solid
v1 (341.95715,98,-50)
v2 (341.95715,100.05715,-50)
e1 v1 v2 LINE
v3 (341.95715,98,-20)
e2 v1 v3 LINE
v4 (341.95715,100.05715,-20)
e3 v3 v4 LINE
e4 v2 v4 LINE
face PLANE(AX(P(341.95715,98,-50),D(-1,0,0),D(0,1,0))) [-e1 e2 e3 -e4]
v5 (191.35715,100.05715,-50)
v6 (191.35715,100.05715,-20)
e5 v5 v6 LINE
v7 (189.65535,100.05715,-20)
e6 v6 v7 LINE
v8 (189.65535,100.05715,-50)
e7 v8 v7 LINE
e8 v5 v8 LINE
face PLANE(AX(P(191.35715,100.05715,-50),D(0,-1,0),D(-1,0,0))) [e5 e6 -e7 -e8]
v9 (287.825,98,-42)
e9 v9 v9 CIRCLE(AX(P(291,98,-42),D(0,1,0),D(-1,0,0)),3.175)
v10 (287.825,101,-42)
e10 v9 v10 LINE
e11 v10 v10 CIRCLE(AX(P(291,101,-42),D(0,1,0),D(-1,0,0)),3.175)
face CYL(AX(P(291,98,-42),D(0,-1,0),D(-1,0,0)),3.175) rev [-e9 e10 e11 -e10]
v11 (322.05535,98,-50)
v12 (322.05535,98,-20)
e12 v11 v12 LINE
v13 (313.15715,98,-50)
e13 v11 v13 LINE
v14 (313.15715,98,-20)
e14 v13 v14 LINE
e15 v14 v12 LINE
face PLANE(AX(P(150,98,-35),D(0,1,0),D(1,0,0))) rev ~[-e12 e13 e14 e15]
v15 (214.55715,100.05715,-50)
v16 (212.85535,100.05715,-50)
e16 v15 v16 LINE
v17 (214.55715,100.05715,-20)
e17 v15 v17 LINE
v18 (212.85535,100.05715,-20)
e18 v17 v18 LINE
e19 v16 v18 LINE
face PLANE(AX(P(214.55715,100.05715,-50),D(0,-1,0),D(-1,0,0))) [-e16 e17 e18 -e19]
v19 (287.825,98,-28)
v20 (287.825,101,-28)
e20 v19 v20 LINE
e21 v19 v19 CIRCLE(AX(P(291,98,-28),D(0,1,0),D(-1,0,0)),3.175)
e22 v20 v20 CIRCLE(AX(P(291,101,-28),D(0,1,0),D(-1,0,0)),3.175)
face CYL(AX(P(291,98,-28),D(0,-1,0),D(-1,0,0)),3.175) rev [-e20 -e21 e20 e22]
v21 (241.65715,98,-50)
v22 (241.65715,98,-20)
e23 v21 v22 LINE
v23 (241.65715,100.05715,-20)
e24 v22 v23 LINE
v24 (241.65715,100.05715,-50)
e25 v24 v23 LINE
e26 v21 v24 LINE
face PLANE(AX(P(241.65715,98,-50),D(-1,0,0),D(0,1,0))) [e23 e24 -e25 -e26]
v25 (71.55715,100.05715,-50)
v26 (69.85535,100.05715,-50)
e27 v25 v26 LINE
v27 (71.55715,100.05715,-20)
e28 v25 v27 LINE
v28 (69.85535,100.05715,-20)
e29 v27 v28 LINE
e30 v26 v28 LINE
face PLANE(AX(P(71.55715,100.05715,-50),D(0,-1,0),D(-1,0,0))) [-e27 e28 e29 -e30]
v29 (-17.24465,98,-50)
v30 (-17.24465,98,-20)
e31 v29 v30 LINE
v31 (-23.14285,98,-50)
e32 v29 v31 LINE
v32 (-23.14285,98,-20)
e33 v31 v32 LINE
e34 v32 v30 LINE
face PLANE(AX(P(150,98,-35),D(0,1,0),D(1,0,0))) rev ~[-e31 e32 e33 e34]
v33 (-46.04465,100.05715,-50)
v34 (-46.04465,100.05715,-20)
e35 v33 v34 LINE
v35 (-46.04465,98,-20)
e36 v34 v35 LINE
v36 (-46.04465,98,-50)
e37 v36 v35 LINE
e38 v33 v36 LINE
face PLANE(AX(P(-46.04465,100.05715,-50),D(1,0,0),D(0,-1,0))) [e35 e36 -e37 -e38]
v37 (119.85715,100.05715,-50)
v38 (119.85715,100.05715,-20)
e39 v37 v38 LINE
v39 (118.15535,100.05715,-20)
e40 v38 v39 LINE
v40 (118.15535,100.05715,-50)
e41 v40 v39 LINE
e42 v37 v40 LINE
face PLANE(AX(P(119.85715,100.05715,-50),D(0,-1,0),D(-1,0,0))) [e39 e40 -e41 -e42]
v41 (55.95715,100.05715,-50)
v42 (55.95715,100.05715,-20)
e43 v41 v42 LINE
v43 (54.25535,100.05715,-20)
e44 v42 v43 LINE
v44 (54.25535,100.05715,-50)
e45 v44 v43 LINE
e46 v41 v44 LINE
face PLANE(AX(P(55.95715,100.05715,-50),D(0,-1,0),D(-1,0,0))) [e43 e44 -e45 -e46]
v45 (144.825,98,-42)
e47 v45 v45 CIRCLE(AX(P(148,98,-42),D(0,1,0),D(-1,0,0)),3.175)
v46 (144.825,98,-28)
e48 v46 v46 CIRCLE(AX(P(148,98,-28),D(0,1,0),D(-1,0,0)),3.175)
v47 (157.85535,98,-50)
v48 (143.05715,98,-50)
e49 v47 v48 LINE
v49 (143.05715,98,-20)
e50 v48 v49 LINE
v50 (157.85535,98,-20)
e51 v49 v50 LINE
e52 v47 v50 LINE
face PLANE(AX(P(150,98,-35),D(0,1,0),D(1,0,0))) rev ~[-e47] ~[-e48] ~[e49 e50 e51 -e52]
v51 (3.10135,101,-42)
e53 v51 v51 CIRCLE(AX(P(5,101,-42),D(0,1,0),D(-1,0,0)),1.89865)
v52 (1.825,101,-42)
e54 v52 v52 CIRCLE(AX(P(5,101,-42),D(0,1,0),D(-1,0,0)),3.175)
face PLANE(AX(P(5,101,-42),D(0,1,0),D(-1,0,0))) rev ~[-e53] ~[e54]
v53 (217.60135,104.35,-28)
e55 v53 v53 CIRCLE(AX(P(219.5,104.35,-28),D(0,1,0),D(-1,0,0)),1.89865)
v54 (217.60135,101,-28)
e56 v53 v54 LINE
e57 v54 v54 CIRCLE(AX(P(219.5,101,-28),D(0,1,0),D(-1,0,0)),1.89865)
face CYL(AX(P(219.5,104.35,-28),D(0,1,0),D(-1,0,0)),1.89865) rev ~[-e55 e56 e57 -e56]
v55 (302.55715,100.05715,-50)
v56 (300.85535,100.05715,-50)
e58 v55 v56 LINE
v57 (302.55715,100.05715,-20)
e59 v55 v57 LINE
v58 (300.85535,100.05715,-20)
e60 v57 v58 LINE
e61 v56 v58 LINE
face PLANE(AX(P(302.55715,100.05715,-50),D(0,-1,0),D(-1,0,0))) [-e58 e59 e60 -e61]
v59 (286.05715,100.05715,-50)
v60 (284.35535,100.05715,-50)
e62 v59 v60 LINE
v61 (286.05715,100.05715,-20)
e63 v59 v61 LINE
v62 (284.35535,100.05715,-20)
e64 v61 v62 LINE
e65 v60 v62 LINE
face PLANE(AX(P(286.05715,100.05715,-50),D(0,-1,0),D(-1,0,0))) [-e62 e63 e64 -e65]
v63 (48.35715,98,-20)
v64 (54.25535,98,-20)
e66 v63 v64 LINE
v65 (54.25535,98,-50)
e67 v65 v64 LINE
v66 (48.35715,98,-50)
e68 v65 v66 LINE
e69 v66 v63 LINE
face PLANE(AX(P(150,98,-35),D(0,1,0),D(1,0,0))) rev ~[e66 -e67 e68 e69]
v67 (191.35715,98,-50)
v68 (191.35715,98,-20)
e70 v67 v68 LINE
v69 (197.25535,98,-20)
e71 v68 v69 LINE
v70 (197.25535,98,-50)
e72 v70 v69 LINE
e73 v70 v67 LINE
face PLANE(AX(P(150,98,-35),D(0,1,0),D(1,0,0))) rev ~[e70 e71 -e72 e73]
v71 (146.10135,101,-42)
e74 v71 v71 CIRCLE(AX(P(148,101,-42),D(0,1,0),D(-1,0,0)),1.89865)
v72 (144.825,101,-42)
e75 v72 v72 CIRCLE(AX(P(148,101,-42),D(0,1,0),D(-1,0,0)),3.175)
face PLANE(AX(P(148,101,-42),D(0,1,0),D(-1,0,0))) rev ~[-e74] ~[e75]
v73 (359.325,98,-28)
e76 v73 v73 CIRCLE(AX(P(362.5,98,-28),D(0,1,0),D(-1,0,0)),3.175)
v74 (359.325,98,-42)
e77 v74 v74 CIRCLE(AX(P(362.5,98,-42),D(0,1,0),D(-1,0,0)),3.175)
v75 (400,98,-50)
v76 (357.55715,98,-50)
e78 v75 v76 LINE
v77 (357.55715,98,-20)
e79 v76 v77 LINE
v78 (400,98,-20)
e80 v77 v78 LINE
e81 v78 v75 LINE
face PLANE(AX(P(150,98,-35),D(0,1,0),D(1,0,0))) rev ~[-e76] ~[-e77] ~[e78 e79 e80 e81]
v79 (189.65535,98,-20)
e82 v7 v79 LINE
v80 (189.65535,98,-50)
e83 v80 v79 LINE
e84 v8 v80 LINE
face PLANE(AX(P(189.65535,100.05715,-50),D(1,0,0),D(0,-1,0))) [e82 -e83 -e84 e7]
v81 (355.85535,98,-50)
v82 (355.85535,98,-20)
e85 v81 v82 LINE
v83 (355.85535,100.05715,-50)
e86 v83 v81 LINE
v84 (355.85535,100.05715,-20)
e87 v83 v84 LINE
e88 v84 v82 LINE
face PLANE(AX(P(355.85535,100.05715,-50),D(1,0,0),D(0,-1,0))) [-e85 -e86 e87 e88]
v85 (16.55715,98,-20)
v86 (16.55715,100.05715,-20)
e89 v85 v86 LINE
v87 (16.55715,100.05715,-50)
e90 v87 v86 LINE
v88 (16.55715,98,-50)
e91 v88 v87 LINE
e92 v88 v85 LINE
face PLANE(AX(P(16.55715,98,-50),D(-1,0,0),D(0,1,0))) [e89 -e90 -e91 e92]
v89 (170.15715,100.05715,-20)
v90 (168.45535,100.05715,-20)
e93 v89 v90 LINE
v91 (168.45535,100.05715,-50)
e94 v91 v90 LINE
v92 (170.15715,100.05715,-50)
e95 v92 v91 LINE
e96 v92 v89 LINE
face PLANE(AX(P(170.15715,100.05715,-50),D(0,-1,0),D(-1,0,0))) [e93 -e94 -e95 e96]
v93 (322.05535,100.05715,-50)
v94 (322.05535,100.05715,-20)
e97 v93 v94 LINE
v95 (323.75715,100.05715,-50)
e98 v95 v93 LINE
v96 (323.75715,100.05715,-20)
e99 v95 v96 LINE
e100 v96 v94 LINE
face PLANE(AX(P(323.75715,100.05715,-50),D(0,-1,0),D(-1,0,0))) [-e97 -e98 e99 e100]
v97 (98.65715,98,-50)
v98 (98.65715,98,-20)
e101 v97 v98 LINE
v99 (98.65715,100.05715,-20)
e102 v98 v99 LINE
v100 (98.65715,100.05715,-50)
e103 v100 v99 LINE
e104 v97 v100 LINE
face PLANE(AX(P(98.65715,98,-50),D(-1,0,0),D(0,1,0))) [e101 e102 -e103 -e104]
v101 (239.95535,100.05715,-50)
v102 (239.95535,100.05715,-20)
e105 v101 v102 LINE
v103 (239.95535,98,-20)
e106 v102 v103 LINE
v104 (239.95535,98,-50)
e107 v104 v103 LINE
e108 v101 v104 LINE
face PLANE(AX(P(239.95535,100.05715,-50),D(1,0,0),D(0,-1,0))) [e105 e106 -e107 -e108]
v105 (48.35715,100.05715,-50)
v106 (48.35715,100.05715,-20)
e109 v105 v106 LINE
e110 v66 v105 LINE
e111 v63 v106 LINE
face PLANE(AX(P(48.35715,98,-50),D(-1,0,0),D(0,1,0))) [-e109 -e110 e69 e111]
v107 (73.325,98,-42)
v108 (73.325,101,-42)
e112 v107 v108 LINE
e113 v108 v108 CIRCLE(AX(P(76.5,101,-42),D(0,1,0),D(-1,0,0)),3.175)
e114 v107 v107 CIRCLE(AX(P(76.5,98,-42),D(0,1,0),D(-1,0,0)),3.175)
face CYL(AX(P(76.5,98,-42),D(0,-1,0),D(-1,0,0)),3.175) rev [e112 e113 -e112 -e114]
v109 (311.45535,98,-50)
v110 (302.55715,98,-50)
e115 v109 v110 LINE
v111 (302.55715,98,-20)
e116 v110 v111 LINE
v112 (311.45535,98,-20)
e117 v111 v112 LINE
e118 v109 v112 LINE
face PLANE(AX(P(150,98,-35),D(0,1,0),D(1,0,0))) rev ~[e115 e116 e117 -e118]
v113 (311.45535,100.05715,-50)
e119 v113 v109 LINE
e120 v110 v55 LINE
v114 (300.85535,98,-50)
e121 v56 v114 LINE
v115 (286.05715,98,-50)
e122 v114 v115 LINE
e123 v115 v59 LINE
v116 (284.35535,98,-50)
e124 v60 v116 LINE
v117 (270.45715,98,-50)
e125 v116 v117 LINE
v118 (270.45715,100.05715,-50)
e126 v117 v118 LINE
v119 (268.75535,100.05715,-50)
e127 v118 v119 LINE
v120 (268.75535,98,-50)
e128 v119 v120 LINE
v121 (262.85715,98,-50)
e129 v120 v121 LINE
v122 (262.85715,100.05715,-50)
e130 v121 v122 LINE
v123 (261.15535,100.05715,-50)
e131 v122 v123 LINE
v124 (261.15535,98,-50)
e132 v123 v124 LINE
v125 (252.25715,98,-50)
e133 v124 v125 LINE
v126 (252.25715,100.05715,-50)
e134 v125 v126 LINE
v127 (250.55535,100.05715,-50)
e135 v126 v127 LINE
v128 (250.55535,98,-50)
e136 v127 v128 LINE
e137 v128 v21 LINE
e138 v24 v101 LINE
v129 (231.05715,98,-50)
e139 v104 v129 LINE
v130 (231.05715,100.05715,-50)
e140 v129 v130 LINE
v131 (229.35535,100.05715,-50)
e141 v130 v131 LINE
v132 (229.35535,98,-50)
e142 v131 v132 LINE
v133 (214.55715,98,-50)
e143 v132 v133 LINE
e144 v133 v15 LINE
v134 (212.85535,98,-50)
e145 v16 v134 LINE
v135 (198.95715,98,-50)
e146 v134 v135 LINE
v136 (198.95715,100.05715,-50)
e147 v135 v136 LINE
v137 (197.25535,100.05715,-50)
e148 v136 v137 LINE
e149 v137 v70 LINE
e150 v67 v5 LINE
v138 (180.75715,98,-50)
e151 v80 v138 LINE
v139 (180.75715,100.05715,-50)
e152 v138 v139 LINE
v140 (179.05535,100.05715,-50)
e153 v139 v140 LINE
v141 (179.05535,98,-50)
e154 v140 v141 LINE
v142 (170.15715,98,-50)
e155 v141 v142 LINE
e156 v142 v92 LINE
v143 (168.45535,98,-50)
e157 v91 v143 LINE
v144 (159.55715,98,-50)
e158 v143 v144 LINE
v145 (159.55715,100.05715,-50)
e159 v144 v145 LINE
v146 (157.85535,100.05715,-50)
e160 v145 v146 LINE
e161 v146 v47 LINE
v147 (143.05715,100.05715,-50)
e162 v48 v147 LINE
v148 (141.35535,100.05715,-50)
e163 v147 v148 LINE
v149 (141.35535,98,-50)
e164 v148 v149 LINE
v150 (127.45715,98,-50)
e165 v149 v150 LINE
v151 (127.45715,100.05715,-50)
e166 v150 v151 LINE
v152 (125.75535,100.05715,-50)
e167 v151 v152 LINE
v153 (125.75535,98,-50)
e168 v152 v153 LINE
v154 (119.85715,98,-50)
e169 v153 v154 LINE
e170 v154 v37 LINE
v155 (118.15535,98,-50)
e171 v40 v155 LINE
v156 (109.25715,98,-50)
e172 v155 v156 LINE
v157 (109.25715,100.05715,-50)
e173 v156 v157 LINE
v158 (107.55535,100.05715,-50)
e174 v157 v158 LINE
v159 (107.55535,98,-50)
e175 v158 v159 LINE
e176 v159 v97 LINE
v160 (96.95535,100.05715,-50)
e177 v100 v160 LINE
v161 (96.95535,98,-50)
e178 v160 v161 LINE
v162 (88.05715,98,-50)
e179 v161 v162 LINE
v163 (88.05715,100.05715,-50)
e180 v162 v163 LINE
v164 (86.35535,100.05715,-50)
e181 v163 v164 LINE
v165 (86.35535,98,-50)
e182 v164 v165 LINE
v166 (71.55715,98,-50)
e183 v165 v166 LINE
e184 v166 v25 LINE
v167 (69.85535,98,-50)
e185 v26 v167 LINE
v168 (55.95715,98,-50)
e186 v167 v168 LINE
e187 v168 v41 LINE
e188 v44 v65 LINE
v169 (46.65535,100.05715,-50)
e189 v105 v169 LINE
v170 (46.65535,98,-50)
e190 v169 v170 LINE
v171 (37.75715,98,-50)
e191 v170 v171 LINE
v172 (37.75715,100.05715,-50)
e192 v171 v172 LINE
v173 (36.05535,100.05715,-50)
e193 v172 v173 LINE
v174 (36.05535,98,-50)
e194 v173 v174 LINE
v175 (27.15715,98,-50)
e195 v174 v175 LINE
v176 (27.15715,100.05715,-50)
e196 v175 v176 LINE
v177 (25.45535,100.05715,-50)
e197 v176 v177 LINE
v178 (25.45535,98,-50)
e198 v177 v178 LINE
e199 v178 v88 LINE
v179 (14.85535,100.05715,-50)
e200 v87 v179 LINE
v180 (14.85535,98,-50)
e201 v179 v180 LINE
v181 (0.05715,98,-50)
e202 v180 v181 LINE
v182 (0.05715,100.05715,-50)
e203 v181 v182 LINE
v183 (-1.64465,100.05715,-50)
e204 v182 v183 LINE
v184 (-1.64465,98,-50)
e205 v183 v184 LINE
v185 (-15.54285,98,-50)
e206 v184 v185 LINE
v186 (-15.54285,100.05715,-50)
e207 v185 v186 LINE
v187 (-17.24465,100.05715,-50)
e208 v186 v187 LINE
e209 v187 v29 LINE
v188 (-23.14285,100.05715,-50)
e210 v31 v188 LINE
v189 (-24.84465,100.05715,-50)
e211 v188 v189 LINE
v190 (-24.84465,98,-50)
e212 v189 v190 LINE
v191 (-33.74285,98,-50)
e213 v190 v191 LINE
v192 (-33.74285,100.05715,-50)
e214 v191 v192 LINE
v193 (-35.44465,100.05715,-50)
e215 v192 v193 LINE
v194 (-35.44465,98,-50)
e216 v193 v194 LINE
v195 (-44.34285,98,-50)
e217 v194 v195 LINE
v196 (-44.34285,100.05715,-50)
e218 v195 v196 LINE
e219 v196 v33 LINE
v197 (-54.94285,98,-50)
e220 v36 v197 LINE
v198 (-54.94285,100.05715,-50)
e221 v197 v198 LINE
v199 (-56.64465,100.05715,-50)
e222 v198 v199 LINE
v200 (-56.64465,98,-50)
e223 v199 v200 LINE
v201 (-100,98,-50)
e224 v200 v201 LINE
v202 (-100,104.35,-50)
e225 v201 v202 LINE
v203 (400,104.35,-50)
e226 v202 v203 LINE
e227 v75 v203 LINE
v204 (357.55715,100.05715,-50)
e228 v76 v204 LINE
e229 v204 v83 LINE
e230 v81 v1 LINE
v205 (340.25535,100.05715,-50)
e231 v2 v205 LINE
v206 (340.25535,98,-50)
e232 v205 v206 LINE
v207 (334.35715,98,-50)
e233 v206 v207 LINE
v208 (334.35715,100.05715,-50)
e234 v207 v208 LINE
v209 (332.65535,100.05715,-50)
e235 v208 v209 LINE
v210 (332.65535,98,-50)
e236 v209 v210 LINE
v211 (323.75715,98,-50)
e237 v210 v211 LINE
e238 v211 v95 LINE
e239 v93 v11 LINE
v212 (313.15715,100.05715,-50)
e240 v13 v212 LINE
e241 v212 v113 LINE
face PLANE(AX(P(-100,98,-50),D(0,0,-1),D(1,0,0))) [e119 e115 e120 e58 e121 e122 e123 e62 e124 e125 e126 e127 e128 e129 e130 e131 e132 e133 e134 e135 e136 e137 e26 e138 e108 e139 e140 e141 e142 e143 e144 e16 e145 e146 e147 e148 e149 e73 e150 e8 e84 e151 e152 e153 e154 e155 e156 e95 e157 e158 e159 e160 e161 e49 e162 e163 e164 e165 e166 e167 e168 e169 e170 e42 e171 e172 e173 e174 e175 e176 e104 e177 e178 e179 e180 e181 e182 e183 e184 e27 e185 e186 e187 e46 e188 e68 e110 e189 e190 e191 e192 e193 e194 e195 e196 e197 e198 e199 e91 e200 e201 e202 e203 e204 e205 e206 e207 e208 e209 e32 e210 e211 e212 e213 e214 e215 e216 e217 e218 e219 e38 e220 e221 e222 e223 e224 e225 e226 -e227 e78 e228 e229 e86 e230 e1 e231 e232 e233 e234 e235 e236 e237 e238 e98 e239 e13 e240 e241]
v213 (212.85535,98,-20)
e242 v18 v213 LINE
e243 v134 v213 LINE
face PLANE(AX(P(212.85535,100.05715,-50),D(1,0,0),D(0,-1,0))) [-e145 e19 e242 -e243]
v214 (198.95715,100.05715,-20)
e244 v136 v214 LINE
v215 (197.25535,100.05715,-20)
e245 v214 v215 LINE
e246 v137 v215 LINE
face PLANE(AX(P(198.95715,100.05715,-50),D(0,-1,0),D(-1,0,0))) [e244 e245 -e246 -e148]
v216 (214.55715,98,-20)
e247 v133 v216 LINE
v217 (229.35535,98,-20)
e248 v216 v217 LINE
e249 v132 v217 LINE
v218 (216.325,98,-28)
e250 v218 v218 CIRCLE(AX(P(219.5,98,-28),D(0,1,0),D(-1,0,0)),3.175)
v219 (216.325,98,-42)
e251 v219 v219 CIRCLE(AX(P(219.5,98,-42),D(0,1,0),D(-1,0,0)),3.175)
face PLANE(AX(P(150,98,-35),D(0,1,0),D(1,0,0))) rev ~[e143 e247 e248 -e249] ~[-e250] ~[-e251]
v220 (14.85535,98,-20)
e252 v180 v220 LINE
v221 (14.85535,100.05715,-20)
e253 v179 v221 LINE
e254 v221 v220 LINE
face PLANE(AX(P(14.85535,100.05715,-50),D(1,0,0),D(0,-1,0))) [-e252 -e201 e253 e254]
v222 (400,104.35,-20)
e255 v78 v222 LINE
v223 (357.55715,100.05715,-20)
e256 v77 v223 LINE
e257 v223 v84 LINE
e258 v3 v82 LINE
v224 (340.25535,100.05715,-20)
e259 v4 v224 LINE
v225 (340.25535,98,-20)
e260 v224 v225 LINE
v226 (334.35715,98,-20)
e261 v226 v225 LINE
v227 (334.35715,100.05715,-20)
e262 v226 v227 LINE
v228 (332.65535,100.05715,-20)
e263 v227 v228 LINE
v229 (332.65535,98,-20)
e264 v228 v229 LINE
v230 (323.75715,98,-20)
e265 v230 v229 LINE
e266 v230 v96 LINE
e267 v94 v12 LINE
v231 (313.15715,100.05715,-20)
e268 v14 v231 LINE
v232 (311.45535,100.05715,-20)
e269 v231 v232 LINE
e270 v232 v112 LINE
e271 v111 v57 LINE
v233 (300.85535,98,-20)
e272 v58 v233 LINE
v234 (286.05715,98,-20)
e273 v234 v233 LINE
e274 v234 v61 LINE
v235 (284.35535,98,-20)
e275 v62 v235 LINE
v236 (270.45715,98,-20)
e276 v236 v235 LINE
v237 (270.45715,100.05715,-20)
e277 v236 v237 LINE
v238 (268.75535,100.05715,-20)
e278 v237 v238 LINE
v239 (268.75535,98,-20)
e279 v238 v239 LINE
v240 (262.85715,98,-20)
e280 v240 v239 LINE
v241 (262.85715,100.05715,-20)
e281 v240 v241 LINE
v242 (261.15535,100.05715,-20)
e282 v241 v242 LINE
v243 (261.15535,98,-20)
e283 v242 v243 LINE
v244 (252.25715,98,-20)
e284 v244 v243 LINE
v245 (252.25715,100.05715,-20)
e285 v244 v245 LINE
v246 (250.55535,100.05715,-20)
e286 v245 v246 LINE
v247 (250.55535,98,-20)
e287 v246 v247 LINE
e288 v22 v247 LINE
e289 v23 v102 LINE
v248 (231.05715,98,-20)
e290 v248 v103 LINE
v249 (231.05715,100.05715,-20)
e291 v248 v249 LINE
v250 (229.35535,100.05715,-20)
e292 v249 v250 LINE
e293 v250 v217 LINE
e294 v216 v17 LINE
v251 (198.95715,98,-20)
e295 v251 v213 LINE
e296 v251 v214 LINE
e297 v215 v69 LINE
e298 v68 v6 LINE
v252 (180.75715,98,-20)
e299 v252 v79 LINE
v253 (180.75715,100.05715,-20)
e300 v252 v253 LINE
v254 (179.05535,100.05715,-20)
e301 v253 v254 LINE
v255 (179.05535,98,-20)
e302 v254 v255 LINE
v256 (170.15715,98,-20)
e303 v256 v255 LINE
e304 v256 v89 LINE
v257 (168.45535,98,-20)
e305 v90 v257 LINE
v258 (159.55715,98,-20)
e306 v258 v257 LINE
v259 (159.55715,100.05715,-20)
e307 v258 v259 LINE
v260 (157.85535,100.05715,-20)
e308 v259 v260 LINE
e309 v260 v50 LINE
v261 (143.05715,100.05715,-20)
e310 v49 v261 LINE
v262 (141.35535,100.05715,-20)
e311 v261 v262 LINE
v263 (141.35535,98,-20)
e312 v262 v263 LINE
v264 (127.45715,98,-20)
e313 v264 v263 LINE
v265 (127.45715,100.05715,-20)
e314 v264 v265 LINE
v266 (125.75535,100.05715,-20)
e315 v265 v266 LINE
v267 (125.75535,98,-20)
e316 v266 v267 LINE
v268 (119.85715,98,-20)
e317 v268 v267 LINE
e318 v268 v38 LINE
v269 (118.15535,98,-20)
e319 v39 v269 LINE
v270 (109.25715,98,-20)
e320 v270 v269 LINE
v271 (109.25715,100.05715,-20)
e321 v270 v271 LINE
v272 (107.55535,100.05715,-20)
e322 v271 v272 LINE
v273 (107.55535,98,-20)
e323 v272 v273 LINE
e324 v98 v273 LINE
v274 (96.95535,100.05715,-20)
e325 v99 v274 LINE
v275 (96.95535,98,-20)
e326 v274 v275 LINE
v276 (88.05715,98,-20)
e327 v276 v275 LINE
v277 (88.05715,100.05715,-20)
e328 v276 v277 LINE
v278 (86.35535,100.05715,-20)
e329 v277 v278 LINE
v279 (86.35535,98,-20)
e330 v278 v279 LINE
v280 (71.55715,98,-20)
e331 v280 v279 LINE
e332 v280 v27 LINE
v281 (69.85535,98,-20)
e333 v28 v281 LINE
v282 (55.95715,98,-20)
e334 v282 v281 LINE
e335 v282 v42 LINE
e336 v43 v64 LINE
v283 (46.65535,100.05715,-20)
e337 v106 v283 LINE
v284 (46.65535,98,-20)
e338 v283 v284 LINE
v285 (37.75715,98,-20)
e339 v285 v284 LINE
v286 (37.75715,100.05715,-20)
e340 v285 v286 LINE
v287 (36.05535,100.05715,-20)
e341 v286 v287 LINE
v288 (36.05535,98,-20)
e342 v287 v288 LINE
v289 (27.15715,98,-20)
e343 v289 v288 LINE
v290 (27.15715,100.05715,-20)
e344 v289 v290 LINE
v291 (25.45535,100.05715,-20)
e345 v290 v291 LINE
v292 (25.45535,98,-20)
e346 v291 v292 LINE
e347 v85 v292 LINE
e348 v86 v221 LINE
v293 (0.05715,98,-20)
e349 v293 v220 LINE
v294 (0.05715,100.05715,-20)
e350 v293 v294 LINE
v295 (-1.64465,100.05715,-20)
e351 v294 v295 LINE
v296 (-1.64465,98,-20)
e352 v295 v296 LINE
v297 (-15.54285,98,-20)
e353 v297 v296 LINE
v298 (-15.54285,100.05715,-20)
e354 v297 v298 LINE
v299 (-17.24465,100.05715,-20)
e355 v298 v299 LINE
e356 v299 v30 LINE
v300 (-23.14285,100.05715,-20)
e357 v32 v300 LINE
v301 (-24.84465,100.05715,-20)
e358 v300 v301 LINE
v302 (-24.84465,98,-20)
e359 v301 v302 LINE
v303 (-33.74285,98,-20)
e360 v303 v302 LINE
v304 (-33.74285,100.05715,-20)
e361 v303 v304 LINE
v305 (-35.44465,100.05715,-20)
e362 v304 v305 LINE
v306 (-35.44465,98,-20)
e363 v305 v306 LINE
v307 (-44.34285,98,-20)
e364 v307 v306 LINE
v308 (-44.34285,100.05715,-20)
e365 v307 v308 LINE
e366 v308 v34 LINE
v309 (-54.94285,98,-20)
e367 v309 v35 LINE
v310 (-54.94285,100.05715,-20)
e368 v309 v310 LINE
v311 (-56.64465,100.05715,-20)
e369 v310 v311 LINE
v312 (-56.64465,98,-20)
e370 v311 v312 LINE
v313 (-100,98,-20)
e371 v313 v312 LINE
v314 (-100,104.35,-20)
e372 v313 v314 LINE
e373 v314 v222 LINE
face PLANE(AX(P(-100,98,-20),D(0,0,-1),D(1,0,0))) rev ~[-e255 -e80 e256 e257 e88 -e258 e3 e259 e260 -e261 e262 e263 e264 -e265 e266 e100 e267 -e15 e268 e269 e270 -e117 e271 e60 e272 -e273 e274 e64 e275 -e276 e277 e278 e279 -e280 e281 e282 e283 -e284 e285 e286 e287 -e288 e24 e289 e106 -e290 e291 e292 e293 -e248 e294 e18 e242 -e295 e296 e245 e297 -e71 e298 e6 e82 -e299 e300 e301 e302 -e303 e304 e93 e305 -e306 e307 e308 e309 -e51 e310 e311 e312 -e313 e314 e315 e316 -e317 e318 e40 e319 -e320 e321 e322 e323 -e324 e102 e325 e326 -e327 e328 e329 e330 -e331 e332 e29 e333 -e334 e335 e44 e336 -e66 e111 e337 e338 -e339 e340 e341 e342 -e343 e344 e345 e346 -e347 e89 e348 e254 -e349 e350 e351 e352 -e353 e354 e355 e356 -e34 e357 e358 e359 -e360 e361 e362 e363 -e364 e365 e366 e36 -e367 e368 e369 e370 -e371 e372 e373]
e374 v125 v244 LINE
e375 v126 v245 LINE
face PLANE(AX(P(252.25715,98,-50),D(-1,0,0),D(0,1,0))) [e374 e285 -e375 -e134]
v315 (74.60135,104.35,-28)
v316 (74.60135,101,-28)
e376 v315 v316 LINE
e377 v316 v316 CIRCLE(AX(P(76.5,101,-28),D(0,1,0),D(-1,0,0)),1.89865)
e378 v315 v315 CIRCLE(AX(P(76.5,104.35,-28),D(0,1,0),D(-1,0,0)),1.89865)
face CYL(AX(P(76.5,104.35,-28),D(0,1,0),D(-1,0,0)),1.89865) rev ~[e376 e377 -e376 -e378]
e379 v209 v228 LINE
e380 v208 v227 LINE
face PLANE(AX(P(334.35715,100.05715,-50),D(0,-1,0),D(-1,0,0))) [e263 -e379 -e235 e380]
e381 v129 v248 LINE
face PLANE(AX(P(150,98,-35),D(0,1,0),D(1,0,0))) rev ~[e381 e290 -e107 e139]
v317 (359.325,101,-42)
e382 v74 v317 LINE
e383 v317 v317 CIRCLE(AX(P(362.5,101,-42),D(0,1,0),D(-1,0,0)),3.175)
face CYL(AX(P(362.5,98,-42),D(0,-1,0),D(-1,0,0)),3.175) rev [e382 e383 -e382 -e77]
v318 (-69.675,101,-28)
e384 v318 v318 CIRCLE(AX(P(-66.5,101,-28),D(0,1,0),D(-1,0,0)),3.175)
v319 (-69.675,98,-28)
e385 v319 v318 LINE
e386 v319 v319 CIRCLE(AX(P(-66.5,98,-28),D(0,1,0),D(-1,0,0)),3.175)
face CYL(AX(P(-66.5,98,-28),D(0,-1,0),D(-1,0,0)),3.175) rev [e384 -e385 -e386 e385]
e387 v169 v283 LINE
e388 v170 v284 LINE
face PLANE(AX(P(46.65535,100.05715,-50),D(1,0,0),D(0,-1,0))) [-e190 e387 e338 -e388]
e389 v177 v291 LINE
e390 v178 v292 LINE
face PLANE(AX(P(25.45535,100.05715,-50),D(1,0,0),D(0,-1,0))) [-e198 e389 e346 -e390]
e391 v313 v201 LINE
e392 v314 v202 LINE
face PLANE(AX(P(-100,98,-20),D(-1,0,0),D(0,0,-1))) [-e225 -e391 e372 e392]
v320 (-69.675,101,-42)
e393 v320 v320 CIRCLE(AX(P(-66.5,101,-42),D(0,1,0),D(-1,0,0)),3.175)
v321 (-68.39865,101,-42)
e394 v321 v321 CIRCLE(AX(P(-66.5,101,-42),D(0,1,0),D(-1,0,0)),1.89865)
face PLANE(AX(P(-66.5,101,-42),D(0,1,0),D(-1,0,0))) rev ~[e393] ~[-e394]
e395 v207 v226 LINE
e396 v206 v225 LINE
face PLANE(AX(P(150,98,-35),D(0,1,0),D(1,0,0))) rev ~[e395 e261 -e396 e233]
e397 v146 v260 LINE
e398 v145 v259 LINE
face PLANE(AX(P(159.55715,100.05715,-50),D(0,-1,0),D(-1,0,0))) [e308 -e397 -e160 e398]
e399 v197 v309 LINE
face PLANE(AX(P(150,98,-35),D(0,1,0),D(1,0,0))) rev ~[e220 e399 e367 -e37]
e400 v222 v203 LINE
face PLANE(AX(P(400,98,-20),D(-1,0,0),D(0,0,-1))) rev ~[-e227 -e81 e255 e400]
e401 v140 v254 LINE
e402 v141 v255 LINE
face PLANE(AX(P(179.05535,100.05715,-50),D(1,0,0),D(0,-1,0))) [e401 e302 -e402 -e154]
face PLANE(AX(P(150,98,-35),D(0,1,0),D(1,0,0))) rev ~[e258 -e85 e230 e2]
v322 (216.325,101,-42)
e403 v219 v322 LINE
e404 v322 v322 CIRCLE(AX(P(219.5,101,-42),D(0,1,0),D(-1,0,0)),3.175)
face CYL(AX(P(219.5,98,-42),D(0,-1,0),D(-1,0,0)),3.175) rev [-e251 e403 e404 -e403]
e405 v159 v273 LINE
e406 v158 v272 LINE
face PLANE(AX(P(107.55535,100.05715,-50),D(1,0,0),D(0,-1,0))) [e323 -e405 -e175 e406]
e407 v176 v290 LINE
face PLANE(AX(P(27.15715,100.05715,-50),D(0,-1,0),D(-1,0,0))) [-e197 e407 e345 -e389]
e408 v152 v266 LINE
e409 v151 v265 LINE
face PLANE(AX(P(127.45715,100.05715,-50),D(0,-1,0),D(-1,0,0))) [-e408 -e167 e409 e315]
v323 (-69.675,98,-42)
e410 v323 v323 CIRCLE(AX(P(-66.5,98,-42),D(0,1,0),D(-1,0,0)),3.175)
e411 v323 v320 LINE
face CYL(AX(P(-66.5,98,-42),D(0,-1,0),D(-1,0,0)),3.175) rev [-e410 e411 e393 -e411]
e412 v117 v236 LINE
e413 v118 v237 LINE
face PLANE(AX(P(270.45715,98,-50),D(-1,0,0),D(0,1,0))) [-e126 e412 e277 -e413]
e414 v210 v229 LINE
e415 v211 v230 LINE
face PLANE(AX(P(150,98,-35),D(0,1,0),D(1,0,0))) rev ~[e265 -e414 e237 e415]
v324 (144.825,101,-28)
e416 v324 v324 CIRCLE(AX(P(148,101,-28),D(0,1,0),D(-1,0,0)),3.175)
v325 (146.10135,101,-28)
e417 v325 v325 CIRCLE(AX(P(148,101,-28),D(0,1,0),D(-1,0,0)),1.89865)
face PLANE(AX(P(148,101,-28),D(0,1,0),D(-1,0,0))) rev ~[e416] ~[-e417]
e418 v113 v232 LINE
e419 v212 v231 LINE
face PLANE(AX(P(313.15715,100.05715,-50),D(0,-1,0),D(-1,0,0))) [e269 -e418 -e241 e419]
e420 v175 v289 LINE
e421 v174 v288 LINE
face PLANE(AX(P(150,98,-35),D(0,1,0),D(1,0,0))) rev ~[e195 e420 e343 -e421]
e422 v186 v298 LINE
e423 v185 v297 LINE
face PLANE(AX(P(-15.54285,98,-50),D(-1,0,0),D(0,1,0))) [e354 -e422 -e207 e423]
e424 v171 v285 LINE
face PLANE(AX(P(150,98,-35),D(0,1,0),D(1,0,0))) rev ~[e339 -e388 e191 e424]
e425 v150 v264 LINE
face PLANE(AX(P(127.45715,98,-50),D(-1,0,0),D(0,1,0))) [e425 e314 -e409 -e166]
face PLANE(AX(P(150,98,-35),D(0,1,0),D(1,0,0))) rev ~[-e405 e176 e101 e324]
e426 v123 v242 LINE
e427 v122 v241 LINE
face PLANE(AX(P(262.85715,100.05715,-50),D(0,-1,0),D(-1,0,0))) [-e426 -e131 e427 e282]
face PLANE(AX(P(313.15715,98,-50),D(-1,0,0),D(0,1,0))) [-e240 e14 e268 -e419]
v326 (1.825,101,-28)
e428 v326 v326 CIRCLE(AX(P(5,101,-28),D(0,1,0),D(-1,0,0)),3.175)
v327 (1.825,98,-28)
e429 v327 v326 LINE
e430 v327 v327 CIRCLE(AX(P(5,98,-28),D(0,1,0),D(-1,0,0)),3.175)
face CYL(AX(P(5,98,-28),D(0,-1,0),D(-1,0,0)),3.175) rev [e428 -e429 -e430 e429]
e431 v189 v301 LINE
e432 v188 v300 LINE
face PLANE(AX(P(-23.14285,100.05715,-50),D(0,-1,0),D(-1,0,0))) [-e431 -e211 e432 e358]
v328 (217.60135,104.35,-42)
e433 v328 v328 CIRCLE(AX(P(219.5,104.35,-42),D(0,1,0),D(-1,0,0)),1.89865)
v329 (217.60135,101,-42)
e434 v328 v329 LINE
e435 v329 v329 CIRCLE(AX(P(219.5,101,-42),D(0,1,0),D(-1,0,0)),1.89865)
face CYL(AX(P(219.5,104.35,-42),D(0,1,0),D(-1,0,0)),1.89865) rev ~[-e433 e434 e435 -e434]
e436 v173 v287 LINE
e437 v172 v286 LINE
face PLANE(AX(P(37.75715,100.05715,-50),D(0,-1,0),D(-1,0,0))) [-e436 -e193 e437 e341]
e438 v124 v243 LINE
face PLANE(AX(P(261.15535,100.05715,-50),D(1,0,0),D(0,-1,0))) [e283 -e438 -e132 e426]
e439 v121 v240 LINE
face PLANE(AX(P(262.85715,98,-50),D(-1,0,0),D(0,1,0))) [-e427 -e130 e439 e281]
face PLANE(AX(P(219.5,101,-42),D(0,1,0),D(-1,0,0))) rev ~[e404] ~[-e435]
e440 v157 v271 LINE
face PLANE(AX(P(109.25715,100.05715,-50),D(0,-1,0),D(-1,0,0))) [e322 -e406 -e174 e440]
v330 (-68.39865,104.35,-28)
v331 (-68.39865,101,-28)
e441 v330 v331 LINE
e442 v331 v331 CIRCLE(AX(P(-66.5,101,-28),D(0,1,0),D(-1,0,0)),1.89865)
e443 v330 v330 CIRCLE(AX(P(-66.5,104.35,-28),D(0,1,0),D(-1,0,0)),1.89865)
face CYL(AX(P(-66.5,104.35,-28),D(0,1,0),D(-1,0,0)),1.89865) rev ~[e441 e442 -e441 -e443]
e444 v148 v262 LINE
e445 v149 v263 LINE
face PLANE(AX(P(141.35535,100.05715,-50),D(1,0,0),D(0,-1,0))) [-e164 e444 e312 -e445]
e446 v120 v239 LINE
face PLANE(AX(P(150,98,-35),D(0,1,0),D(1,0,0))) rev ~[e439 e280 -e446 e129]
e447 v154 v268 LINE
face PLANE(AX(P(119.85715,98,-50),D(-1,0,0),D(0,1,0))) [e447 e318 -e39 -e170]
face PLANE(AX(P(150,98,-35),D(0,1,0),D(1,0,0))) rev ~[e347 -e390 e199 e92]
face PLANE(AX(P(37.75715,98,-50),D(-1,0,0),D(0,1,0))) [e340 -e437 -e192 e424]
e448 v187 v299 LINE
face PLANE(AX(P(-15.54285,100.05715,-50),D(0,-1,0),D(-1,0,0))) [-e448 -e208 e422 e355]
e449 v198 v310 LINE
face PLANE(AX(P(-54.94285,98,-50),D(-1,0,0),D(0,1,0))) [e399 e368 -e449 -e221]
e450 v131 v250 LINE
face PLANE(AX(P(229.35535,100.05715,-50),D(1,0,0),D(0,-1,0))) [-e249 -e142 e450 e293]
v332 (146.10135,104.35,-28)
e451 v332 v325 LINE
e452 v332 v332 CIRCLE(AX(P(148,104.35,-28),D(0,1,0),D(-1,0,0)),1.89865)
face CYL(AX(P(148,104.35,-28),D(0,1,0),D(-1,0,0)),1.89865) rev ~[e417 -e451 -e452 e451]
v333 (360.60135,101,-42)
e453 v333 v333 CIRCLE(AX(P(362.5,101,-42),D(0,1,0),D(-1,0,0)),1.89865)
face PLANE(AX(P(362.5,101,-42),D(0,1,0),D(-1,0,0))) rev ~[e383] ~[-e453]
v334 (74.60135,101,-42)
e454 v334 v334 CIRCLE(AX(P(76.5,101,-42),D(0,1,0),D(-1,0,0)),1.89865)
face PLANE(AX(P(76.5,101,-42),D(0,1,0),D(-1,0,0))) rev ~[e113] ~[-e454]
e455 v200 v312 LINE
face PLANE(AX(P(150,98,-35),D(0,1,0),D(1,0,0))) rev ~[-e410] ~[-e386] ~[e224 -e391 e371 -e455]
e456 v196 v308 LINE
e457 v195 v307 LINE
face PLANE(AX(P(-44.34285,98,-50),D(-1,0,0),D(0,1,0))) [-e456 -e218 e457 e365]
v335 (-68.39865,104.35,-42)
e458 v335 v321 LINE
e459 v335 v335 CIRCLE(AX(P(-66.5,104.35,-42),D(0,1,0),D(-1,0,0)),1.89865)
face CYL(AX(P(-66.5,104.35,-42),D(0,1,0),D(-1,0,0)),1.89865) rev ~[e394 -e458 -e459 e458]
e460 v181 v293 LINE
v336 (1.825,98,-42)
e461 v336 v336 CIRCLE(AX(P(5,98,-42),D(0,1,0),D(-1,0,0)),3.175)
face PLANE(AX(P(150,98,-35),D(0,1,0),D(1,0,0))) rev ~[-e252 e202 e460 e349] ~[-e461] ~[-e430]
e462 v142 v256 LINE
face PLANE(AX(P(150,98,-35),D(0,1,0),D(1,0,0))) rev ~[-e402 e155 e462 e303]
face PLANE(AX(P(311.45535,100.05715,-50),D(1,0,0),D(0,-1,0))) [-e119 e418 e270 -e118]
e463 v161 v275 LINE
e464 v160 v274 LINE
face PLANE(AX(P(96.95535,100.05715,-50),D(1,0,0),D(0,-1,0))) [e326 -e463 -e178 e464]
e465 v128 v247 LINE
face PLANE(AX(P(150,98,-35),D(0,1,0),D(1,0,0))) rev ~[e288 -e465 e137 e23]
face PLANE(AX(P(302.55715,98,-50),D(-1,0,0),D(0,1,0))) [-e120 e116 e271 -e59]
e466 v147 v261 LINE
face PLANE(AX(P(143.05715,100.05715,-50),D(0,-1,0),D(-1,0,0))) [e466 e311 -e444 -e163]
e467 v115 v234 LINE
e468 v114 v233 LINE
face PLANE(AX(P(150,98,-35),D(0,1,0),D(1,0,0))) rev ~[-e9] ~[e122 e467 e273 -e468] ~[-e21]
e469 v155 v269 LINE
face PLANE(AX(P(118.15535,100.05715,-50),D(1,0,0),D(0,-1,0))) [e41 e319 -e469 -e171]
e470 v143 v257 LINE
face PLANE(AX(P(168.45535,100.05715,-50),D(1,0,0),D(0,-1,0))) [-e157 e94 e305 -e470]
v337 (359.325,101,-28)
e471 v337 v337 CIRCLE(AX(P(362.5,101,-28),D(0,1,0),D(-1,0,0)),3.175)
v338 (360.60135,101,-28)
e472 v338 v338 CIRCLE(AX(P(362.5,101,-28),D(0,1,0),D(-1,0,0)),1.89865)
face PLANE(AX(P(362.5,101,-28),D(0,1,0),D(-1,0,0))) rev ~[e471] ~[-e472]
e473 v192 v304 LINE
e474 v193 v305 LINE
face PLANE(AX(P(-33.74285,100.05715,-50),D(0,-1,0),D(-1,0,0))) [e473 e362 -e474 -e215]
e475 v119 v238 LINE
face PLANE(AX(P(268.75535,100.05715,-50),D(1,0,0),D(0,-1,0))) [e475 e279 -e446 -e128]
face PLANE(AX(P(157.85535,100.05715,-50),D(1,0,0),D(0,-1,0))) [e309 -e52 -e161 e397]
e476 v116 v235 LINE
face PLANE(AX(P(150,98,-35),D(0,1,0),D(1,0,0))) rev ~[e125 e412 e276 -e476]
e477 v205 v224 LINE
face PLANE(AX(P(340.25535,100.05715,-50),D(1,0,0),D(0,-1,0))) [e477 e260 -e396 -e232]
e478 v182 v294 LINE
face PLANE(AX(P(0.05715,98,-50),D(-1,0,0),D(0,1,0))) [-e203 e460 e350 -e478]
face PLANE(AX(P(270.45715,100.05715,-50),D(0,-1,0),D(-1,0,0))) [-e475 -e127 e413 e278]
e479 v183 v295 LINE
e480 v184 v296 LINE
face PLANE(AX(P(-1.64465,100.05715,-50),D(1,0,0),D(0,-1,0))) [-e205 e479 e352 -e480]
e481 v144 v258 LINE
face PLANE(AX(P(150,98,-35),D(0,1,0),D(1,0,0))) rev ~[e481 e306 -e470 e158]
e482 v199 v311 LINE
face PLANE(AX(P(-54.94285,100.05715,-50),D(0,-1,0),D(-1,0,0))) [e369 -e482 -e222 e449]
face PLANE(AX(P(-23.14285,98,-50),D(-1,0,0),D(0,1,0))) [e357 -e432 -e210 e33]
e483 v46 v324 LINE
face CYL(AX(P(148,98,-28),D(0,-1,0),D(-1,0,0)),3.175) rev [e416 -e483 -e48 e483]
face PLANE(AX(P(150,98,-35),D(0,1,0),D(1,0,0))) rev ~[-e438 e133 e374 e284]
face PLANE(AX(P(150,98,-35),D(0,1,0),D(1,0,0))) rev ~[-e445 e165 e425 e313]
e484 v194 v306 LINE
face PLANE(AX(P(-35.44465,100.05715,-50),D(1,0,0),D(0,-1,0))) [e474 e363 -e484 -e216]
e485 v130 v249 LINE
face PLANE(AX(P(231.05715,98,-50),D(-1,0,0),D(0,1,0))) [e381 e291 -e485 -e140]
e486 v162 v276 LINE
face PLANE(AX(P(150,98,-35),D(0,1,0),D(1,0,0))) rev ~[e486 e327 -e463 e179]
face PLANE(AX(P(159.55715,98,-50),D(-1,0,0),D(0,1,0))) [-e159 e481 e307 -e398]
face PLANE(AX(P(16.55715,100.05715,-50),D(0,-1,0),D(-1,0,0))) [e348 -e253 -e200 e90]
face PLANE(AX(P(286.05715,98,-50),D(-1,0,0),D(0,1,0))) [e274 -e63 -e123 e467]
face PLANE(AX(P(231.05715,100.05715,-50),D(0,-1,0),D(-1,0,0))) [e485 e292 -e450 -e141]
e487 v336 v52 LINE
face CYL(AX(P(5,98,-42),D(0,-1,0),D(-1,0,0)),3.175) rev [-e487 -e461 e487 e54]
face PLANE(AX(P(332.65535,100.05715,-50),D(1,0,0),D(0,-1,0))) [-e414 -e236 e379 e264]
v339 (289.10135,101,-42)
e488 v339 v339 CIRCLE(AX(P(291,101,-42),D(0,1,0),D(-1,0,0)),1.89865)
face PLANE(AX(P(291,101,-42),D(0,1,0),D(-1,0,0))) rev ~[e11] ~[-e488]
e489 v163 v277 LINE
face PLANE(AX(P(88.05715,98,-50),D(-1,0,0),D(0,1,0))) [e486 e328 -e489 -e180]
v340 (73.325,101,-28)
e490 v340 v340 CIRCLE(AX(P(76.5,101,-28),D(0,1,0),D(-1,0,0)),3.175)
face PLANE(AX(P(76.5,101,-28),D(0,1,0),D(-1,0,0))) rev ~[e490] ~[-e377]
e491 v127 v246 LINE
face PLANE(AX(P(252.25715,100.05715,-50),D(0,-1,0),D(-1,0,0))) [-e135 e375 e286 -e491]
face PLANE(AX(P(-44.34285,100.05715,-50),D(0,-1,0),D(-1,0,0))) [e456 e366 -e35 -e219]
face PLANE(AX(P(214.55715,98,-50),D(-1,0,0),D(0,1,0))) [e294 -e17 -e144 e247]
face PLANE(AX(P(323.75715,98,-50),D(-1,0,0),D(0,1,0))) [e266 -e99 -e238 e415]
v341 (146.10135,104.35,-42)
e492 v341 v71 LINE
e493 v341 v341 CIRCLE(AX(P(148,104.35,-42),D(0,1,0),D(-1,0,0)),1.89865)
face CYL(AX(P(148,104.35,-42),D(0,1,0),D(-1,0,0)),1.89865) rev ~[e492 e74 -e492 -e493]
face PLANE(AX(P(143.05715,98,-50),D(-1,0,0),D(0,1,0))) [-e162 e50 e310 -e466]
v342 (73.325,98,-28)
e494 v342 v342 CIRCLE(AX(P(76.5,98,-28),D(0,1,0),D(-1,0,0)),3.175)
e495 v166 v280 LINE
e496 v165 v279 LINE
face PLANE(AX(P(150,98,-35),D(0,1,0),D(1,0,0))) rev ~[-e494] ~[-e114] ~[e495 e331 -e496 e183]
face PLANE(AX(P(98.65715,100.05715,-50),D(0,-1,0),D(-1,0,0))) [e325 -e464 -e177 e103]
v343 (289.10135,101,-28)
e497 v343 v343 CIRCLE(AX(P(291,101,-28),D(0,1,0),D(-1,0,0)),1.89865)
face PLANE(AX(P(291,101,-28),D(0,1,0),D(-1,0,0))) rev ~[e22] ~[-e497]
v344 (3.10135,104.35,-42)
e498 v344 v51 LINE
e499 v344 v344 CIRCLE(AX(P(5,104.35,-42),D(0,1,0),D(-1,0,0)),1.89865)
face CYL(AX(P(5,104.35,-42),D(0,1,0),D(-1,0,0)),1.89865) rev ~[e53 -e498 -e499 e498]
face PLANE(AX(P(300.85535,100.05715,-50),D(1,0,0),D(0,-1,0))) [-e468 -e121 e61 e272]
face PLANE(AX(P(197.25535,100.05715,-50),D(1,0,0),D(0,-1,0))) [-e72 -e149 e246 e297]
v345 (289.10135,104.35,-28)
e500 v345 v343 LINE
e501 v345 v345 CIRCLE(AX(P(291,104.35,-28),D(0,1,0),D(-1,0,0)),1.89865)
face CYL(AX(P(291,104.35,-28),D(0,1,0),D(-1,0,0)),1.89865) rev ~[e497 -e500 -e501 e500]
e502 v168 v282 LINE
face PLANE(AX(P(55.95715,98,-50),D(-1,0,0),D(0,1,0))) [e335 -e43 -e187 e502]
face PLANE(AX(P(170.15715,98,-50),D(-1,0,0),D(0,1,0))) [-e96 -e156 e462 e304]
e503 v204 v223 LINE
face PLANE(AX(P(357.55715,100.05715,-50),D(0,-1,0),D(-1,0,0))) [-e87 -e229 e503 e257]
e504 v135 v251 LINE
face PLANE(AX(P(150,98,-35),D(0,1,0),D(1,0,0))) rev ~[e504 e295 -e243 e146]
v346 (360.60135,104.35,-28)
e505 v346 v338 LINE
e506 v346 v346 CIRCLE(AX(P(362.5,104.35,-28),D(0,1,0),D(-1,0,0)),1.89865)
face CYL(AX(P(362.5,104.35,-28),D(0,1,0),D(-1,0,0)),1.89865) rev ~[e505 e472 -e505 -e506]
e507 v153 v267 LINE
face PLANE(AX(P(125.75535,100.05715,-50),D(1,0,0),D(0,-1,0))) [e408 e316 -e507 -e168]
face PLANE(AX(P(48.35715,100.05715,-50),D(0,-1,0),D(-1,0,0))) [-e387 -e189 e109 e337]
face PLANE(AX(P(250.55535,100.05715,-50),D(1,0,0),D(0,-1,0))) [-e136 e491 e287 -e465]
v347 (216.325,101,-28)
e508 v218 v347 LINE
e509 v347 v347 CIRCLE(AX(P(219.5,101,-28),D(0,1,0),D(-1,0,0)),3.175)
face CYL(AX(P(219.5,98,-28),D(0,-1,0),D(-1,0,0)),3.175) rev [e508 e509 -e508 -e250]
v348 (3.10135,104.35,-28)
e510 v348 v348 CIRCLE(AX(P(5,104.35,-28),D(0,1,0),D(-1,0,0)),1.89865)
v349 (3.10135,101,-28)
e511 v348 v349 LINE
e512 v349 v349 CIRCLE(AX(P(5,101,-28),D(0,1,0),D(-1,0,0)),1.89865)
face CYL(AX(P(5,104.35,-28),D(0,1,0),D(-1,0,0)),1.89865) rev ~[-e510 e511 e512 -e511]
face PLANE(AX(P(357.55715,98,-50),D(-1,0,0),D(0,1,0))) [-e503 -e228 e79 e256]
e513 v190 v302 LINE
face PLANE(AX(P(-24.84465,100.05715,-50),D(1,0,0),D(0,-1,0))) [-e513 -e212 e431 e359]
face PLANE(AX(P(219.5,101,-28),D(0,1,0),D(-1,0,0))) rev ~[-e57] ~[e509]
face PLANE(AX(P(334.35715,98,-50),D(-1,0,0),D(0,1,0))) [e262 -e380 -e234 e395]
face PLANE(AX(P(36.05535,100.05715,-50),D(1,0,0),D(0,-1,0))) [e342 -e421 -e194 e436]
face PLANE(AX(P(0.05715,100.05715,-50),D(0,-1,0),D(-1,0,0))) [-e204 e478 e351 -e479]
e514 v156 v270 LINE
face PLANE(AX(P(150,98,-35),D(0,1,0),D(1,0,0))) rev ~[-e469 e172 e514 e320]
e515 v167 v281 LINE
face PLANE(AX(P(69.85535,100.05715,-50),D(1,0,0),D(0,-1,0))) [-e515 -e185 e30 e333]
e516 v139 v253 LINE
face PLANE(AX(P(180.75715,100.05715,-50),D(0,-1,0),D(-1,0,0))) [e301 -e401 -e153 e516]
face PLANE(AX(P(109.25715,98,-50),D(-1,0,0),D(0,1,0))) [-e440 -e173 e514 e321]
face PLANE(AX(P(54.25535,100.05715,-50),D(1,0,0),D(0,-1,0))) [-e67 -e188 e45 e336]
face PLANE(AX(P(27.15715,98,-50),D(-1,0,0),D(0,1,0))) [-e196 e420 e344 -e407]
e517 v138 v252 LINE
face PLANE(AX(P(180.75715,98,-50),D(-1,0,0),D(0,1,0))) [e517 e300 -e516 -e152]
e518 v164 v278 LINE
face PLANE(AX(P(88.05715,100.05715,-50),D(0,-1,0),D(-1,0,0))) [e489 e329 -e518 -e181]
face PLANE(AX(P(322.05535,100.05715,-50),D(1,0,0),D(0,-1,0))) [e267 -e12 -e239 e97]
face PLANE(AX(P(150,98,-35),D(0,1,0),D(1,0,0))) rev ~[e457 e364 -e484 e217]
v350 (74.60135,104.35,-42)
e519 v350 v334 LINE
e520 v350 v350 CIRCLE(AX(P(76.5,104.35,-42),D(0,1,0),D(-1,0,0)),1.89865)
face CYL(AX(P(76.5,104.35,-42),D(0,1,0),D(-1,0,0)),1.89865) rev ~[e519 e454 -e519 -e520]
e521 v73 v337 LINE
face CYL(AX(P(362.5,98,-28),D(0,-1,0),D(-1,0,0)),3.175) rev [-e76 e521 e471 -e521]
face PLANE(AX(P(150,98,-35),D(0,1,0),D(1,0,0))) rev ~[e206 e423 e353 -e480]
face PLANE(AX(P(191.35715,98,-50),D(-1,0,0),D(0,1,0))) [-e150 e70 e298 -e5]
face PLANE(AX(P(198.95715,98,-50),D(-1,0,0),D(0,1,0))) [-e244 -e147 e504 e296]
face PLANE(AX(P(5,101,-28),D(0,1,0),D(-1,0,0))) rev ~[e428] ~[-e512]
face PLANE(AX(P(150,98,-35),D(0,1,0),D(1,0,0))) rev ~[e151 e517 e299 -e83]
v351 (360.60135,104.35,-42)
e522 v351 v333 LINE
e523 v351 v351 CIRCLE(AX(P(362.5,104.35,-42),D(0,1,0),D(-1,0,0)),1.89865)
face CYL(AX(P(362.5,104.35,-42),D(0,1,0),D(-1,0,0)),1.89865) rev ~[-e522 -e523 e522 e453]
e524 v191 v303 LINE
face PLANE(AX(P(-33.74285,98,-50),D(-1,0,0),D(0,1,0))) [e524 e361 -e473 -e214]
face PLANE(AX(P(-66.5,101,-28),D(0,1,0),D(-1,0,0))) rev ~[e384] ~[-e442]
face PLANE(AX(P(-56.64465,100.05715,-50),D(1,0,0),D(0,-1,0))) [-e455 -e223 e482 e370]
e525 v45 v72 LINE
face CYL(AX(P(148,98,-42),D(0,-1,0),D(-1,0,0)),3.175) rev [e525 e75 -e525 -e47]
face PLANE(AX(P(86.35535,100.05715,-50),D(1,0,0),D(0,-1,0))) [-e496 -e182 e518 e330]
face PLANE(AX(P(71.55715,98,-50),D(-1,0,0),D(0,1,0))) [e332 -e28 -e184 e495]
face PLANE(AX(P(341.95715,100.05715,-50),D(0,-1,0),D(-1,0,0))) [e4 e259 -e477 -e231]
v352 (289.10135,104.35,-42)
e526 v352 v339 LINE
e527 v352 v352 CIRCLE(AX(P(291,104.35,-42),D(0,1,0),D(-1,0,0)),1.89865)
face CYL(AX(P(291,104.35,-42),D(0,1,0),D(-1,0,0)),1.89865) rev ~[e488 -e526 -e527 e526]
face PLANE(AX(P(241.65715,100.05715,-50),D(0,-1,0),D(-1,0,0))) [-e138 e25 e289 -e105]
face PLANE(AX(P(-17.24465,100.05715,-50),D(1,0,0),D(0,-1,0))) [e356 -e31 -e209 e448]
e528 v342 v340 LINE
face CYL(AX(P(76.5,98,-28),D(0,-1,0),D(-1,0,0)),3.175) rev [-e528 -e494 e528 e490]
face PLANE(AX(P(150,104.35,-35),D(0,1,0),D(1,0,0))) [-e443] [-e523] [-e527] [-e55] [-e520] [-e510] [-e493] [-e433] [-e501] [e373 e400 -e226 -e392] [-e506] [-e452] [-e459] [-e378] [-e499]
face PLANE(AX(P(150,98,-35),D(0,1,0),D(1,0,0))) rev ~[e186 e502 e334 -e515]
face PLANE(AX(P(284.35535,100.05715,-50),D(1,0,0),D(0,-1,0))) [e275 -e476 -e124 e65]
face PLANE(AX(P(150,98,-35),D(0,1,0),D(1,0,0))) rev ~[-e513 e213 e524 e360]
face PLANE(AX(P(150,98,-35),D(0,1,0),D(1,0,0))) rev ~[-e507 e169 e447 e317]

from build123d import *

# Parameters (mm, degrees)
SKETCH2_W           = 500
SKETCH2_H           = 30
BOSS_EXTRUDE1_DEPTH = 6.35
SKETCH3_R           = 3.175
CUT_EXTRUDE1_DEPTH  = 3
CUT_EXTRUDE2_DEPTH  = 415.474272422
SKETCH6_R           = 1.89865
CUT_EXTRUDE3_DEPTH  = 404.162898219


with BuildPart() as part:
    # Sketch2 → Boss-Extrude1 (new body)
    with BuildSketch(Plane(origin=(0, 98, 0), x_dir=(1, 0, 0), z_dir=(0, 1, 0))):
        with Locations((150, 35)):
            Rectangle(SKETCH2_W, SKETCH2_H)
    extrude(amount=BOSS_EXTRUDE1_DEPTH)

    # Sketch3 → Cut-Extrude1 (cut)
    with BuildSketch(Plane(origin=(0, 98, 0), x_dir=(1, 0, 0), z_dir=(0, 1, 0))):
        with Locations(Location((362.5, 42, 0), (0, 0, 180))):
            Circle(SKETCH3_R)
        with Locations(Location((362.5, 28, 0), (0, 0, 180))):
            Circle(SKETCH3_R)
        with Locations(Location((291, 42, 0), (0, 0, 180))):
            Circle(SKETCH3_R)
        with Locations(Location((291, 28, 0), (0, 0, 180))):
            Circle(SKETCH3_R)
        with Locations(Location((219.5, 42, 0), (0, 0, 180))):
            Circle(SKETCH3_R)
        with Locations(Location((219.5, 28, 0), (0, 0, 180))):
            Circle(SKETCH3_R)
        with Locations(Location((148, 42, 0), (0, 0, 180))):
            Circle(SKETCH3_R)
        with Locations(Location((148, 28, 0), (0, 0, 180))):
            Circle(SKETCH3_R)
        with Locations(Location((76.5, 42, 0), (0, 0, 180))):
            Circle(SKETCH3_R)
        with Locations(Location((76.5, 28, 0), (0, 0, 180))):
            Circle(SKETCH3_R)
        with Locations(Location((5, 42, 0), (0, 0, 180))):
            Circle(SKETCH3_R)
        with Locations(Location((5, 28, 0), (0, 0, 180))):
            Circle(SKETCH3_R)
        with Locations(Location((-66.5, 42, 0), (0, 0, 180))):
            Circle(SKETCH3_R)
        with Locations(Location((-66.5, 28, 0), (0, 0, 180))):
            Circle(SKETCH3_R)
    extrude(amount=CUT_EXTRUDE1_DEPTH, mode=Mode.SUBTRACT)

    # Sketch5 → Cut-Extrude2 (cut, through all)
    with BuildSketch(Plane(origin=(0, 0, -50), x_dir=(-1, 0, 0), z_dir=(0, 0, -1))):
        Polygon((-357.55715, 98), (-357.55715, 100.05715), (-355.85535, 100.05715), (-355.85535, 98), (-341.95715, 98), (-341.95715, 100.05715), (-340.25535, 100.05715), (-340.25535, 98), (-334.35715, 98), (-334.35715, 100.05715), (-332.65535, 100.05715), (-332.65535, 98), (-323.75715, 98), (-323.75715, 100.05715), (-322.05535, 100.05715), (-322.05535, 98), (-313.15715, 98), (-313.15715, 100.05715), (-311.45535, 100.05715), (-311.45535, 98), (-302.55715, 98), (-302.55715, 100.05715), (-300.85535, 100.05715), (-300.85535, 98), (-295.78949815, 98), (-295.78949815, 96.633226224), (-359.074689679, 96.633226224), (-359.074689679, 98), align=None)
        Polygon((-286.05715, 98), (-286.05715, 100.05715), (-284.35535, 100.05715), (-284.35535, 98), (-270.45715, 98), (-270.45715, 100.05715), (-268.75535, 100.05715), (-268.75535, 98), (-262.85715, 98), (-262.85715, 100.05715), (-261.15535, 100.05715), (-261.15535, 98), (-252.25715, 98), (-252.25715, 100.05715), (-250.55535, 100.05715), (-250.55535, 98), (-241.65715, 98), (-241.65715, 100.05715), (-239.95535, 100.05715), (-239.95535, 98), (-231.05715, 98), (-231.05715, 100.05715), (-229.35535, 100.05715), (-229.35535, 98), (-224.28949815, 98), (-224.28949815, 96.633226224), (-287.574689679, 96.633226224), (-287.574689679, 98), align=None)
        Polygon((-214.55715, 98), (-214.55715, 100.05715), (-212.85535, 100.05715), (-212.85535, 98), (-198.95715, 98), (-198.95715, 100.05715), (-197.25535, 100.05715), (-197.25535, 98), (-191.35715, 98), (-191.35715, 100.05715), (-189.65535, 100.05715), (-189.65535, 98), (-180.75715, 98), (-180.75715, 100.05715), (-179.05535, 100.05715), (-179.05535, 98), (-170.15715, 98), (-170.15715, 100.05715), (-168.45535, 100.05715), (-168.45535, 98), (-159.55715, 98), (-159.55715, 100.05715), (-157.85535, 100.05715), (-157.85535, 98), (-152.78949815, 98), (-152.78949815, 96.633226224), (-216.074689679, 96.633226224), (-216.074689679, 98), align=None)
        Polygon((-143.05715, 98), (-143.05715, 100.05715), (-141.35535, 100.05715), (-141.35535, 98), (-127.45715, 98), (-127.45715, 100.05715), (-125.75535, 100.05715), (-125.75535, 98), (-119.85715, 98), (-119.85715, 100.05715), (-118.15535, 100.05715), (-118.15535, 98), (-109.25715, 98), (-109.25715, 100.05715), (-107.55535, 100.05715), (-107.55535, 98), (-98.65715, 98), (-98.65715, 100.05715), (-96.95535, 100.05715), (-96.95535, 98), (-88.05715, 98), (-88.05715, 100.05715), (-86.35535, 100.05715), (-86.35535, 98), (-81.28949815, 98), (-81.28949815, 96.633226224), (-144.574689679, 96.633226224), (-144.574689679, 98), align=None)
        Polygon((-71.55715, 98), (-71.55715, 100.05715), (-69.85535, 100.05715), (-69.85535, 98), (-55.95715, 98), (-55.95715, 100.05715), (-54.25535, 100.05715), (-54.25535, 98), (-48.35715, 98), (-48.35715, 100.05715), (-46.65535, 100.05715), (-46.65535, 98), (-37.75715, 98), (-37.75715, 100.05715), (-36.05535, 100.05715), (-36.05535, 98), (-27.15715, 98), (-27.15715, 100.05715), (-25.45535, 100.05715), (-25.45535, 98), (-16.55715, 98), (-16.55715, 100.05715), (-14.85535, 100.05715), (-14.85535, 98), (-9.78949815, 98), (-9.78949815, 96.633226224), (-73.074689679, 96.633226224), (-73.074689679, 98), align=None)
        Polygon((-0.05715, 98), (-0.05715, 100.05715), (1.64465, 100.05715), (1.64465, 98), (15.54285, 98), (15.54285, 100.05715), (17.24465, 100.05715), (17.24465, 98), (23.14285, 98), (23.14285, 100.05715), (24.84465, 100.05715), (24.84465, 98), (33.74285, 98), (33.74285, 100.05715), (35.44465, 100.05715), (35.44465, 98), (44.34285, 98), (44.34285, 100.05715), (46.04465, 100.05715), (46.04465, 98), (54.94285, 98), (54.94285, 100.05715), (56.64465, 100.05715), (56.64465, 98), (61.71050185, 98), (61.71050185, 96.633226224), (-1.574689679, 96.633226224), (-1.574689679, 98), align=None)
    extrude(amount=-CUT_EXTRUDE2_DEPTH, mode=Mode.SUBTRACT)

    # Sketch6 → Cut-Extrude3 (cut, through all)
    with BuildSketch(Plane(origin=(0, 104.35, 0), x_dir=(1, 0, 0), z_dir=(0, 1, 0))):
        with Locations(Location((-66.5, 28, 0), (0, 0, 180))):
            Circle(SKETCH6_R)
        with Locations(Location((-66.5, 42, 0), (0, 0, 180))):
            Circle(SKETCH6_R)
        with Locations(Location((5, 28, 0), (0, 0, 180))):
            Circle(SKETCH6_R)
        with Locations(Location((5, 42, 0), (0, 0, 180))):
            Circle(SKETCH6_R)
        with Locations(Location((76.5, 28, 0), (0, 0, 180))):
            Circle(SKETCH6_R)
        with Locations(Location((76.5, 42, 0), (0, 0, 180))):
            Circle(SKETCH6_R)
        with Locations(Location((148, 28, 0), (0, 0, 180))):
            Circle(SKETCH6_R)
        with Locations(Location((148, 42, 0), (0, 0, 180))):
            Circle(SKETCH6_R)
        with Locations(Location((219.5, 28, 0), (0, 0, 180))):
            Circle(SKETCH6_R)
        with Locations(Location((219.5, 42, 0), (0, 0, 180))):
            Circle(SKETCH6_R)
        with Locations(Location((291, 28, 0), (0, 0, 180))):
            Circle(SKETCH6_R)
        with Locations(Location((291, 42, 0), (0, 0, 180))):
            Circle(SKETCH6_R)
        with Locations(Location((362.5, 28, 0), (0, 0, 180))):
            Circle(SKETCH6_R)
        with Locations(Location((362.5, 42, 0), (0, 0, 180))):
            Circle(SKETCH6_R)
    extrude(amount=-CUT_EXTRUDE3_DEPTH, mode=Mode.SUBTRACT)


solid = part.part
